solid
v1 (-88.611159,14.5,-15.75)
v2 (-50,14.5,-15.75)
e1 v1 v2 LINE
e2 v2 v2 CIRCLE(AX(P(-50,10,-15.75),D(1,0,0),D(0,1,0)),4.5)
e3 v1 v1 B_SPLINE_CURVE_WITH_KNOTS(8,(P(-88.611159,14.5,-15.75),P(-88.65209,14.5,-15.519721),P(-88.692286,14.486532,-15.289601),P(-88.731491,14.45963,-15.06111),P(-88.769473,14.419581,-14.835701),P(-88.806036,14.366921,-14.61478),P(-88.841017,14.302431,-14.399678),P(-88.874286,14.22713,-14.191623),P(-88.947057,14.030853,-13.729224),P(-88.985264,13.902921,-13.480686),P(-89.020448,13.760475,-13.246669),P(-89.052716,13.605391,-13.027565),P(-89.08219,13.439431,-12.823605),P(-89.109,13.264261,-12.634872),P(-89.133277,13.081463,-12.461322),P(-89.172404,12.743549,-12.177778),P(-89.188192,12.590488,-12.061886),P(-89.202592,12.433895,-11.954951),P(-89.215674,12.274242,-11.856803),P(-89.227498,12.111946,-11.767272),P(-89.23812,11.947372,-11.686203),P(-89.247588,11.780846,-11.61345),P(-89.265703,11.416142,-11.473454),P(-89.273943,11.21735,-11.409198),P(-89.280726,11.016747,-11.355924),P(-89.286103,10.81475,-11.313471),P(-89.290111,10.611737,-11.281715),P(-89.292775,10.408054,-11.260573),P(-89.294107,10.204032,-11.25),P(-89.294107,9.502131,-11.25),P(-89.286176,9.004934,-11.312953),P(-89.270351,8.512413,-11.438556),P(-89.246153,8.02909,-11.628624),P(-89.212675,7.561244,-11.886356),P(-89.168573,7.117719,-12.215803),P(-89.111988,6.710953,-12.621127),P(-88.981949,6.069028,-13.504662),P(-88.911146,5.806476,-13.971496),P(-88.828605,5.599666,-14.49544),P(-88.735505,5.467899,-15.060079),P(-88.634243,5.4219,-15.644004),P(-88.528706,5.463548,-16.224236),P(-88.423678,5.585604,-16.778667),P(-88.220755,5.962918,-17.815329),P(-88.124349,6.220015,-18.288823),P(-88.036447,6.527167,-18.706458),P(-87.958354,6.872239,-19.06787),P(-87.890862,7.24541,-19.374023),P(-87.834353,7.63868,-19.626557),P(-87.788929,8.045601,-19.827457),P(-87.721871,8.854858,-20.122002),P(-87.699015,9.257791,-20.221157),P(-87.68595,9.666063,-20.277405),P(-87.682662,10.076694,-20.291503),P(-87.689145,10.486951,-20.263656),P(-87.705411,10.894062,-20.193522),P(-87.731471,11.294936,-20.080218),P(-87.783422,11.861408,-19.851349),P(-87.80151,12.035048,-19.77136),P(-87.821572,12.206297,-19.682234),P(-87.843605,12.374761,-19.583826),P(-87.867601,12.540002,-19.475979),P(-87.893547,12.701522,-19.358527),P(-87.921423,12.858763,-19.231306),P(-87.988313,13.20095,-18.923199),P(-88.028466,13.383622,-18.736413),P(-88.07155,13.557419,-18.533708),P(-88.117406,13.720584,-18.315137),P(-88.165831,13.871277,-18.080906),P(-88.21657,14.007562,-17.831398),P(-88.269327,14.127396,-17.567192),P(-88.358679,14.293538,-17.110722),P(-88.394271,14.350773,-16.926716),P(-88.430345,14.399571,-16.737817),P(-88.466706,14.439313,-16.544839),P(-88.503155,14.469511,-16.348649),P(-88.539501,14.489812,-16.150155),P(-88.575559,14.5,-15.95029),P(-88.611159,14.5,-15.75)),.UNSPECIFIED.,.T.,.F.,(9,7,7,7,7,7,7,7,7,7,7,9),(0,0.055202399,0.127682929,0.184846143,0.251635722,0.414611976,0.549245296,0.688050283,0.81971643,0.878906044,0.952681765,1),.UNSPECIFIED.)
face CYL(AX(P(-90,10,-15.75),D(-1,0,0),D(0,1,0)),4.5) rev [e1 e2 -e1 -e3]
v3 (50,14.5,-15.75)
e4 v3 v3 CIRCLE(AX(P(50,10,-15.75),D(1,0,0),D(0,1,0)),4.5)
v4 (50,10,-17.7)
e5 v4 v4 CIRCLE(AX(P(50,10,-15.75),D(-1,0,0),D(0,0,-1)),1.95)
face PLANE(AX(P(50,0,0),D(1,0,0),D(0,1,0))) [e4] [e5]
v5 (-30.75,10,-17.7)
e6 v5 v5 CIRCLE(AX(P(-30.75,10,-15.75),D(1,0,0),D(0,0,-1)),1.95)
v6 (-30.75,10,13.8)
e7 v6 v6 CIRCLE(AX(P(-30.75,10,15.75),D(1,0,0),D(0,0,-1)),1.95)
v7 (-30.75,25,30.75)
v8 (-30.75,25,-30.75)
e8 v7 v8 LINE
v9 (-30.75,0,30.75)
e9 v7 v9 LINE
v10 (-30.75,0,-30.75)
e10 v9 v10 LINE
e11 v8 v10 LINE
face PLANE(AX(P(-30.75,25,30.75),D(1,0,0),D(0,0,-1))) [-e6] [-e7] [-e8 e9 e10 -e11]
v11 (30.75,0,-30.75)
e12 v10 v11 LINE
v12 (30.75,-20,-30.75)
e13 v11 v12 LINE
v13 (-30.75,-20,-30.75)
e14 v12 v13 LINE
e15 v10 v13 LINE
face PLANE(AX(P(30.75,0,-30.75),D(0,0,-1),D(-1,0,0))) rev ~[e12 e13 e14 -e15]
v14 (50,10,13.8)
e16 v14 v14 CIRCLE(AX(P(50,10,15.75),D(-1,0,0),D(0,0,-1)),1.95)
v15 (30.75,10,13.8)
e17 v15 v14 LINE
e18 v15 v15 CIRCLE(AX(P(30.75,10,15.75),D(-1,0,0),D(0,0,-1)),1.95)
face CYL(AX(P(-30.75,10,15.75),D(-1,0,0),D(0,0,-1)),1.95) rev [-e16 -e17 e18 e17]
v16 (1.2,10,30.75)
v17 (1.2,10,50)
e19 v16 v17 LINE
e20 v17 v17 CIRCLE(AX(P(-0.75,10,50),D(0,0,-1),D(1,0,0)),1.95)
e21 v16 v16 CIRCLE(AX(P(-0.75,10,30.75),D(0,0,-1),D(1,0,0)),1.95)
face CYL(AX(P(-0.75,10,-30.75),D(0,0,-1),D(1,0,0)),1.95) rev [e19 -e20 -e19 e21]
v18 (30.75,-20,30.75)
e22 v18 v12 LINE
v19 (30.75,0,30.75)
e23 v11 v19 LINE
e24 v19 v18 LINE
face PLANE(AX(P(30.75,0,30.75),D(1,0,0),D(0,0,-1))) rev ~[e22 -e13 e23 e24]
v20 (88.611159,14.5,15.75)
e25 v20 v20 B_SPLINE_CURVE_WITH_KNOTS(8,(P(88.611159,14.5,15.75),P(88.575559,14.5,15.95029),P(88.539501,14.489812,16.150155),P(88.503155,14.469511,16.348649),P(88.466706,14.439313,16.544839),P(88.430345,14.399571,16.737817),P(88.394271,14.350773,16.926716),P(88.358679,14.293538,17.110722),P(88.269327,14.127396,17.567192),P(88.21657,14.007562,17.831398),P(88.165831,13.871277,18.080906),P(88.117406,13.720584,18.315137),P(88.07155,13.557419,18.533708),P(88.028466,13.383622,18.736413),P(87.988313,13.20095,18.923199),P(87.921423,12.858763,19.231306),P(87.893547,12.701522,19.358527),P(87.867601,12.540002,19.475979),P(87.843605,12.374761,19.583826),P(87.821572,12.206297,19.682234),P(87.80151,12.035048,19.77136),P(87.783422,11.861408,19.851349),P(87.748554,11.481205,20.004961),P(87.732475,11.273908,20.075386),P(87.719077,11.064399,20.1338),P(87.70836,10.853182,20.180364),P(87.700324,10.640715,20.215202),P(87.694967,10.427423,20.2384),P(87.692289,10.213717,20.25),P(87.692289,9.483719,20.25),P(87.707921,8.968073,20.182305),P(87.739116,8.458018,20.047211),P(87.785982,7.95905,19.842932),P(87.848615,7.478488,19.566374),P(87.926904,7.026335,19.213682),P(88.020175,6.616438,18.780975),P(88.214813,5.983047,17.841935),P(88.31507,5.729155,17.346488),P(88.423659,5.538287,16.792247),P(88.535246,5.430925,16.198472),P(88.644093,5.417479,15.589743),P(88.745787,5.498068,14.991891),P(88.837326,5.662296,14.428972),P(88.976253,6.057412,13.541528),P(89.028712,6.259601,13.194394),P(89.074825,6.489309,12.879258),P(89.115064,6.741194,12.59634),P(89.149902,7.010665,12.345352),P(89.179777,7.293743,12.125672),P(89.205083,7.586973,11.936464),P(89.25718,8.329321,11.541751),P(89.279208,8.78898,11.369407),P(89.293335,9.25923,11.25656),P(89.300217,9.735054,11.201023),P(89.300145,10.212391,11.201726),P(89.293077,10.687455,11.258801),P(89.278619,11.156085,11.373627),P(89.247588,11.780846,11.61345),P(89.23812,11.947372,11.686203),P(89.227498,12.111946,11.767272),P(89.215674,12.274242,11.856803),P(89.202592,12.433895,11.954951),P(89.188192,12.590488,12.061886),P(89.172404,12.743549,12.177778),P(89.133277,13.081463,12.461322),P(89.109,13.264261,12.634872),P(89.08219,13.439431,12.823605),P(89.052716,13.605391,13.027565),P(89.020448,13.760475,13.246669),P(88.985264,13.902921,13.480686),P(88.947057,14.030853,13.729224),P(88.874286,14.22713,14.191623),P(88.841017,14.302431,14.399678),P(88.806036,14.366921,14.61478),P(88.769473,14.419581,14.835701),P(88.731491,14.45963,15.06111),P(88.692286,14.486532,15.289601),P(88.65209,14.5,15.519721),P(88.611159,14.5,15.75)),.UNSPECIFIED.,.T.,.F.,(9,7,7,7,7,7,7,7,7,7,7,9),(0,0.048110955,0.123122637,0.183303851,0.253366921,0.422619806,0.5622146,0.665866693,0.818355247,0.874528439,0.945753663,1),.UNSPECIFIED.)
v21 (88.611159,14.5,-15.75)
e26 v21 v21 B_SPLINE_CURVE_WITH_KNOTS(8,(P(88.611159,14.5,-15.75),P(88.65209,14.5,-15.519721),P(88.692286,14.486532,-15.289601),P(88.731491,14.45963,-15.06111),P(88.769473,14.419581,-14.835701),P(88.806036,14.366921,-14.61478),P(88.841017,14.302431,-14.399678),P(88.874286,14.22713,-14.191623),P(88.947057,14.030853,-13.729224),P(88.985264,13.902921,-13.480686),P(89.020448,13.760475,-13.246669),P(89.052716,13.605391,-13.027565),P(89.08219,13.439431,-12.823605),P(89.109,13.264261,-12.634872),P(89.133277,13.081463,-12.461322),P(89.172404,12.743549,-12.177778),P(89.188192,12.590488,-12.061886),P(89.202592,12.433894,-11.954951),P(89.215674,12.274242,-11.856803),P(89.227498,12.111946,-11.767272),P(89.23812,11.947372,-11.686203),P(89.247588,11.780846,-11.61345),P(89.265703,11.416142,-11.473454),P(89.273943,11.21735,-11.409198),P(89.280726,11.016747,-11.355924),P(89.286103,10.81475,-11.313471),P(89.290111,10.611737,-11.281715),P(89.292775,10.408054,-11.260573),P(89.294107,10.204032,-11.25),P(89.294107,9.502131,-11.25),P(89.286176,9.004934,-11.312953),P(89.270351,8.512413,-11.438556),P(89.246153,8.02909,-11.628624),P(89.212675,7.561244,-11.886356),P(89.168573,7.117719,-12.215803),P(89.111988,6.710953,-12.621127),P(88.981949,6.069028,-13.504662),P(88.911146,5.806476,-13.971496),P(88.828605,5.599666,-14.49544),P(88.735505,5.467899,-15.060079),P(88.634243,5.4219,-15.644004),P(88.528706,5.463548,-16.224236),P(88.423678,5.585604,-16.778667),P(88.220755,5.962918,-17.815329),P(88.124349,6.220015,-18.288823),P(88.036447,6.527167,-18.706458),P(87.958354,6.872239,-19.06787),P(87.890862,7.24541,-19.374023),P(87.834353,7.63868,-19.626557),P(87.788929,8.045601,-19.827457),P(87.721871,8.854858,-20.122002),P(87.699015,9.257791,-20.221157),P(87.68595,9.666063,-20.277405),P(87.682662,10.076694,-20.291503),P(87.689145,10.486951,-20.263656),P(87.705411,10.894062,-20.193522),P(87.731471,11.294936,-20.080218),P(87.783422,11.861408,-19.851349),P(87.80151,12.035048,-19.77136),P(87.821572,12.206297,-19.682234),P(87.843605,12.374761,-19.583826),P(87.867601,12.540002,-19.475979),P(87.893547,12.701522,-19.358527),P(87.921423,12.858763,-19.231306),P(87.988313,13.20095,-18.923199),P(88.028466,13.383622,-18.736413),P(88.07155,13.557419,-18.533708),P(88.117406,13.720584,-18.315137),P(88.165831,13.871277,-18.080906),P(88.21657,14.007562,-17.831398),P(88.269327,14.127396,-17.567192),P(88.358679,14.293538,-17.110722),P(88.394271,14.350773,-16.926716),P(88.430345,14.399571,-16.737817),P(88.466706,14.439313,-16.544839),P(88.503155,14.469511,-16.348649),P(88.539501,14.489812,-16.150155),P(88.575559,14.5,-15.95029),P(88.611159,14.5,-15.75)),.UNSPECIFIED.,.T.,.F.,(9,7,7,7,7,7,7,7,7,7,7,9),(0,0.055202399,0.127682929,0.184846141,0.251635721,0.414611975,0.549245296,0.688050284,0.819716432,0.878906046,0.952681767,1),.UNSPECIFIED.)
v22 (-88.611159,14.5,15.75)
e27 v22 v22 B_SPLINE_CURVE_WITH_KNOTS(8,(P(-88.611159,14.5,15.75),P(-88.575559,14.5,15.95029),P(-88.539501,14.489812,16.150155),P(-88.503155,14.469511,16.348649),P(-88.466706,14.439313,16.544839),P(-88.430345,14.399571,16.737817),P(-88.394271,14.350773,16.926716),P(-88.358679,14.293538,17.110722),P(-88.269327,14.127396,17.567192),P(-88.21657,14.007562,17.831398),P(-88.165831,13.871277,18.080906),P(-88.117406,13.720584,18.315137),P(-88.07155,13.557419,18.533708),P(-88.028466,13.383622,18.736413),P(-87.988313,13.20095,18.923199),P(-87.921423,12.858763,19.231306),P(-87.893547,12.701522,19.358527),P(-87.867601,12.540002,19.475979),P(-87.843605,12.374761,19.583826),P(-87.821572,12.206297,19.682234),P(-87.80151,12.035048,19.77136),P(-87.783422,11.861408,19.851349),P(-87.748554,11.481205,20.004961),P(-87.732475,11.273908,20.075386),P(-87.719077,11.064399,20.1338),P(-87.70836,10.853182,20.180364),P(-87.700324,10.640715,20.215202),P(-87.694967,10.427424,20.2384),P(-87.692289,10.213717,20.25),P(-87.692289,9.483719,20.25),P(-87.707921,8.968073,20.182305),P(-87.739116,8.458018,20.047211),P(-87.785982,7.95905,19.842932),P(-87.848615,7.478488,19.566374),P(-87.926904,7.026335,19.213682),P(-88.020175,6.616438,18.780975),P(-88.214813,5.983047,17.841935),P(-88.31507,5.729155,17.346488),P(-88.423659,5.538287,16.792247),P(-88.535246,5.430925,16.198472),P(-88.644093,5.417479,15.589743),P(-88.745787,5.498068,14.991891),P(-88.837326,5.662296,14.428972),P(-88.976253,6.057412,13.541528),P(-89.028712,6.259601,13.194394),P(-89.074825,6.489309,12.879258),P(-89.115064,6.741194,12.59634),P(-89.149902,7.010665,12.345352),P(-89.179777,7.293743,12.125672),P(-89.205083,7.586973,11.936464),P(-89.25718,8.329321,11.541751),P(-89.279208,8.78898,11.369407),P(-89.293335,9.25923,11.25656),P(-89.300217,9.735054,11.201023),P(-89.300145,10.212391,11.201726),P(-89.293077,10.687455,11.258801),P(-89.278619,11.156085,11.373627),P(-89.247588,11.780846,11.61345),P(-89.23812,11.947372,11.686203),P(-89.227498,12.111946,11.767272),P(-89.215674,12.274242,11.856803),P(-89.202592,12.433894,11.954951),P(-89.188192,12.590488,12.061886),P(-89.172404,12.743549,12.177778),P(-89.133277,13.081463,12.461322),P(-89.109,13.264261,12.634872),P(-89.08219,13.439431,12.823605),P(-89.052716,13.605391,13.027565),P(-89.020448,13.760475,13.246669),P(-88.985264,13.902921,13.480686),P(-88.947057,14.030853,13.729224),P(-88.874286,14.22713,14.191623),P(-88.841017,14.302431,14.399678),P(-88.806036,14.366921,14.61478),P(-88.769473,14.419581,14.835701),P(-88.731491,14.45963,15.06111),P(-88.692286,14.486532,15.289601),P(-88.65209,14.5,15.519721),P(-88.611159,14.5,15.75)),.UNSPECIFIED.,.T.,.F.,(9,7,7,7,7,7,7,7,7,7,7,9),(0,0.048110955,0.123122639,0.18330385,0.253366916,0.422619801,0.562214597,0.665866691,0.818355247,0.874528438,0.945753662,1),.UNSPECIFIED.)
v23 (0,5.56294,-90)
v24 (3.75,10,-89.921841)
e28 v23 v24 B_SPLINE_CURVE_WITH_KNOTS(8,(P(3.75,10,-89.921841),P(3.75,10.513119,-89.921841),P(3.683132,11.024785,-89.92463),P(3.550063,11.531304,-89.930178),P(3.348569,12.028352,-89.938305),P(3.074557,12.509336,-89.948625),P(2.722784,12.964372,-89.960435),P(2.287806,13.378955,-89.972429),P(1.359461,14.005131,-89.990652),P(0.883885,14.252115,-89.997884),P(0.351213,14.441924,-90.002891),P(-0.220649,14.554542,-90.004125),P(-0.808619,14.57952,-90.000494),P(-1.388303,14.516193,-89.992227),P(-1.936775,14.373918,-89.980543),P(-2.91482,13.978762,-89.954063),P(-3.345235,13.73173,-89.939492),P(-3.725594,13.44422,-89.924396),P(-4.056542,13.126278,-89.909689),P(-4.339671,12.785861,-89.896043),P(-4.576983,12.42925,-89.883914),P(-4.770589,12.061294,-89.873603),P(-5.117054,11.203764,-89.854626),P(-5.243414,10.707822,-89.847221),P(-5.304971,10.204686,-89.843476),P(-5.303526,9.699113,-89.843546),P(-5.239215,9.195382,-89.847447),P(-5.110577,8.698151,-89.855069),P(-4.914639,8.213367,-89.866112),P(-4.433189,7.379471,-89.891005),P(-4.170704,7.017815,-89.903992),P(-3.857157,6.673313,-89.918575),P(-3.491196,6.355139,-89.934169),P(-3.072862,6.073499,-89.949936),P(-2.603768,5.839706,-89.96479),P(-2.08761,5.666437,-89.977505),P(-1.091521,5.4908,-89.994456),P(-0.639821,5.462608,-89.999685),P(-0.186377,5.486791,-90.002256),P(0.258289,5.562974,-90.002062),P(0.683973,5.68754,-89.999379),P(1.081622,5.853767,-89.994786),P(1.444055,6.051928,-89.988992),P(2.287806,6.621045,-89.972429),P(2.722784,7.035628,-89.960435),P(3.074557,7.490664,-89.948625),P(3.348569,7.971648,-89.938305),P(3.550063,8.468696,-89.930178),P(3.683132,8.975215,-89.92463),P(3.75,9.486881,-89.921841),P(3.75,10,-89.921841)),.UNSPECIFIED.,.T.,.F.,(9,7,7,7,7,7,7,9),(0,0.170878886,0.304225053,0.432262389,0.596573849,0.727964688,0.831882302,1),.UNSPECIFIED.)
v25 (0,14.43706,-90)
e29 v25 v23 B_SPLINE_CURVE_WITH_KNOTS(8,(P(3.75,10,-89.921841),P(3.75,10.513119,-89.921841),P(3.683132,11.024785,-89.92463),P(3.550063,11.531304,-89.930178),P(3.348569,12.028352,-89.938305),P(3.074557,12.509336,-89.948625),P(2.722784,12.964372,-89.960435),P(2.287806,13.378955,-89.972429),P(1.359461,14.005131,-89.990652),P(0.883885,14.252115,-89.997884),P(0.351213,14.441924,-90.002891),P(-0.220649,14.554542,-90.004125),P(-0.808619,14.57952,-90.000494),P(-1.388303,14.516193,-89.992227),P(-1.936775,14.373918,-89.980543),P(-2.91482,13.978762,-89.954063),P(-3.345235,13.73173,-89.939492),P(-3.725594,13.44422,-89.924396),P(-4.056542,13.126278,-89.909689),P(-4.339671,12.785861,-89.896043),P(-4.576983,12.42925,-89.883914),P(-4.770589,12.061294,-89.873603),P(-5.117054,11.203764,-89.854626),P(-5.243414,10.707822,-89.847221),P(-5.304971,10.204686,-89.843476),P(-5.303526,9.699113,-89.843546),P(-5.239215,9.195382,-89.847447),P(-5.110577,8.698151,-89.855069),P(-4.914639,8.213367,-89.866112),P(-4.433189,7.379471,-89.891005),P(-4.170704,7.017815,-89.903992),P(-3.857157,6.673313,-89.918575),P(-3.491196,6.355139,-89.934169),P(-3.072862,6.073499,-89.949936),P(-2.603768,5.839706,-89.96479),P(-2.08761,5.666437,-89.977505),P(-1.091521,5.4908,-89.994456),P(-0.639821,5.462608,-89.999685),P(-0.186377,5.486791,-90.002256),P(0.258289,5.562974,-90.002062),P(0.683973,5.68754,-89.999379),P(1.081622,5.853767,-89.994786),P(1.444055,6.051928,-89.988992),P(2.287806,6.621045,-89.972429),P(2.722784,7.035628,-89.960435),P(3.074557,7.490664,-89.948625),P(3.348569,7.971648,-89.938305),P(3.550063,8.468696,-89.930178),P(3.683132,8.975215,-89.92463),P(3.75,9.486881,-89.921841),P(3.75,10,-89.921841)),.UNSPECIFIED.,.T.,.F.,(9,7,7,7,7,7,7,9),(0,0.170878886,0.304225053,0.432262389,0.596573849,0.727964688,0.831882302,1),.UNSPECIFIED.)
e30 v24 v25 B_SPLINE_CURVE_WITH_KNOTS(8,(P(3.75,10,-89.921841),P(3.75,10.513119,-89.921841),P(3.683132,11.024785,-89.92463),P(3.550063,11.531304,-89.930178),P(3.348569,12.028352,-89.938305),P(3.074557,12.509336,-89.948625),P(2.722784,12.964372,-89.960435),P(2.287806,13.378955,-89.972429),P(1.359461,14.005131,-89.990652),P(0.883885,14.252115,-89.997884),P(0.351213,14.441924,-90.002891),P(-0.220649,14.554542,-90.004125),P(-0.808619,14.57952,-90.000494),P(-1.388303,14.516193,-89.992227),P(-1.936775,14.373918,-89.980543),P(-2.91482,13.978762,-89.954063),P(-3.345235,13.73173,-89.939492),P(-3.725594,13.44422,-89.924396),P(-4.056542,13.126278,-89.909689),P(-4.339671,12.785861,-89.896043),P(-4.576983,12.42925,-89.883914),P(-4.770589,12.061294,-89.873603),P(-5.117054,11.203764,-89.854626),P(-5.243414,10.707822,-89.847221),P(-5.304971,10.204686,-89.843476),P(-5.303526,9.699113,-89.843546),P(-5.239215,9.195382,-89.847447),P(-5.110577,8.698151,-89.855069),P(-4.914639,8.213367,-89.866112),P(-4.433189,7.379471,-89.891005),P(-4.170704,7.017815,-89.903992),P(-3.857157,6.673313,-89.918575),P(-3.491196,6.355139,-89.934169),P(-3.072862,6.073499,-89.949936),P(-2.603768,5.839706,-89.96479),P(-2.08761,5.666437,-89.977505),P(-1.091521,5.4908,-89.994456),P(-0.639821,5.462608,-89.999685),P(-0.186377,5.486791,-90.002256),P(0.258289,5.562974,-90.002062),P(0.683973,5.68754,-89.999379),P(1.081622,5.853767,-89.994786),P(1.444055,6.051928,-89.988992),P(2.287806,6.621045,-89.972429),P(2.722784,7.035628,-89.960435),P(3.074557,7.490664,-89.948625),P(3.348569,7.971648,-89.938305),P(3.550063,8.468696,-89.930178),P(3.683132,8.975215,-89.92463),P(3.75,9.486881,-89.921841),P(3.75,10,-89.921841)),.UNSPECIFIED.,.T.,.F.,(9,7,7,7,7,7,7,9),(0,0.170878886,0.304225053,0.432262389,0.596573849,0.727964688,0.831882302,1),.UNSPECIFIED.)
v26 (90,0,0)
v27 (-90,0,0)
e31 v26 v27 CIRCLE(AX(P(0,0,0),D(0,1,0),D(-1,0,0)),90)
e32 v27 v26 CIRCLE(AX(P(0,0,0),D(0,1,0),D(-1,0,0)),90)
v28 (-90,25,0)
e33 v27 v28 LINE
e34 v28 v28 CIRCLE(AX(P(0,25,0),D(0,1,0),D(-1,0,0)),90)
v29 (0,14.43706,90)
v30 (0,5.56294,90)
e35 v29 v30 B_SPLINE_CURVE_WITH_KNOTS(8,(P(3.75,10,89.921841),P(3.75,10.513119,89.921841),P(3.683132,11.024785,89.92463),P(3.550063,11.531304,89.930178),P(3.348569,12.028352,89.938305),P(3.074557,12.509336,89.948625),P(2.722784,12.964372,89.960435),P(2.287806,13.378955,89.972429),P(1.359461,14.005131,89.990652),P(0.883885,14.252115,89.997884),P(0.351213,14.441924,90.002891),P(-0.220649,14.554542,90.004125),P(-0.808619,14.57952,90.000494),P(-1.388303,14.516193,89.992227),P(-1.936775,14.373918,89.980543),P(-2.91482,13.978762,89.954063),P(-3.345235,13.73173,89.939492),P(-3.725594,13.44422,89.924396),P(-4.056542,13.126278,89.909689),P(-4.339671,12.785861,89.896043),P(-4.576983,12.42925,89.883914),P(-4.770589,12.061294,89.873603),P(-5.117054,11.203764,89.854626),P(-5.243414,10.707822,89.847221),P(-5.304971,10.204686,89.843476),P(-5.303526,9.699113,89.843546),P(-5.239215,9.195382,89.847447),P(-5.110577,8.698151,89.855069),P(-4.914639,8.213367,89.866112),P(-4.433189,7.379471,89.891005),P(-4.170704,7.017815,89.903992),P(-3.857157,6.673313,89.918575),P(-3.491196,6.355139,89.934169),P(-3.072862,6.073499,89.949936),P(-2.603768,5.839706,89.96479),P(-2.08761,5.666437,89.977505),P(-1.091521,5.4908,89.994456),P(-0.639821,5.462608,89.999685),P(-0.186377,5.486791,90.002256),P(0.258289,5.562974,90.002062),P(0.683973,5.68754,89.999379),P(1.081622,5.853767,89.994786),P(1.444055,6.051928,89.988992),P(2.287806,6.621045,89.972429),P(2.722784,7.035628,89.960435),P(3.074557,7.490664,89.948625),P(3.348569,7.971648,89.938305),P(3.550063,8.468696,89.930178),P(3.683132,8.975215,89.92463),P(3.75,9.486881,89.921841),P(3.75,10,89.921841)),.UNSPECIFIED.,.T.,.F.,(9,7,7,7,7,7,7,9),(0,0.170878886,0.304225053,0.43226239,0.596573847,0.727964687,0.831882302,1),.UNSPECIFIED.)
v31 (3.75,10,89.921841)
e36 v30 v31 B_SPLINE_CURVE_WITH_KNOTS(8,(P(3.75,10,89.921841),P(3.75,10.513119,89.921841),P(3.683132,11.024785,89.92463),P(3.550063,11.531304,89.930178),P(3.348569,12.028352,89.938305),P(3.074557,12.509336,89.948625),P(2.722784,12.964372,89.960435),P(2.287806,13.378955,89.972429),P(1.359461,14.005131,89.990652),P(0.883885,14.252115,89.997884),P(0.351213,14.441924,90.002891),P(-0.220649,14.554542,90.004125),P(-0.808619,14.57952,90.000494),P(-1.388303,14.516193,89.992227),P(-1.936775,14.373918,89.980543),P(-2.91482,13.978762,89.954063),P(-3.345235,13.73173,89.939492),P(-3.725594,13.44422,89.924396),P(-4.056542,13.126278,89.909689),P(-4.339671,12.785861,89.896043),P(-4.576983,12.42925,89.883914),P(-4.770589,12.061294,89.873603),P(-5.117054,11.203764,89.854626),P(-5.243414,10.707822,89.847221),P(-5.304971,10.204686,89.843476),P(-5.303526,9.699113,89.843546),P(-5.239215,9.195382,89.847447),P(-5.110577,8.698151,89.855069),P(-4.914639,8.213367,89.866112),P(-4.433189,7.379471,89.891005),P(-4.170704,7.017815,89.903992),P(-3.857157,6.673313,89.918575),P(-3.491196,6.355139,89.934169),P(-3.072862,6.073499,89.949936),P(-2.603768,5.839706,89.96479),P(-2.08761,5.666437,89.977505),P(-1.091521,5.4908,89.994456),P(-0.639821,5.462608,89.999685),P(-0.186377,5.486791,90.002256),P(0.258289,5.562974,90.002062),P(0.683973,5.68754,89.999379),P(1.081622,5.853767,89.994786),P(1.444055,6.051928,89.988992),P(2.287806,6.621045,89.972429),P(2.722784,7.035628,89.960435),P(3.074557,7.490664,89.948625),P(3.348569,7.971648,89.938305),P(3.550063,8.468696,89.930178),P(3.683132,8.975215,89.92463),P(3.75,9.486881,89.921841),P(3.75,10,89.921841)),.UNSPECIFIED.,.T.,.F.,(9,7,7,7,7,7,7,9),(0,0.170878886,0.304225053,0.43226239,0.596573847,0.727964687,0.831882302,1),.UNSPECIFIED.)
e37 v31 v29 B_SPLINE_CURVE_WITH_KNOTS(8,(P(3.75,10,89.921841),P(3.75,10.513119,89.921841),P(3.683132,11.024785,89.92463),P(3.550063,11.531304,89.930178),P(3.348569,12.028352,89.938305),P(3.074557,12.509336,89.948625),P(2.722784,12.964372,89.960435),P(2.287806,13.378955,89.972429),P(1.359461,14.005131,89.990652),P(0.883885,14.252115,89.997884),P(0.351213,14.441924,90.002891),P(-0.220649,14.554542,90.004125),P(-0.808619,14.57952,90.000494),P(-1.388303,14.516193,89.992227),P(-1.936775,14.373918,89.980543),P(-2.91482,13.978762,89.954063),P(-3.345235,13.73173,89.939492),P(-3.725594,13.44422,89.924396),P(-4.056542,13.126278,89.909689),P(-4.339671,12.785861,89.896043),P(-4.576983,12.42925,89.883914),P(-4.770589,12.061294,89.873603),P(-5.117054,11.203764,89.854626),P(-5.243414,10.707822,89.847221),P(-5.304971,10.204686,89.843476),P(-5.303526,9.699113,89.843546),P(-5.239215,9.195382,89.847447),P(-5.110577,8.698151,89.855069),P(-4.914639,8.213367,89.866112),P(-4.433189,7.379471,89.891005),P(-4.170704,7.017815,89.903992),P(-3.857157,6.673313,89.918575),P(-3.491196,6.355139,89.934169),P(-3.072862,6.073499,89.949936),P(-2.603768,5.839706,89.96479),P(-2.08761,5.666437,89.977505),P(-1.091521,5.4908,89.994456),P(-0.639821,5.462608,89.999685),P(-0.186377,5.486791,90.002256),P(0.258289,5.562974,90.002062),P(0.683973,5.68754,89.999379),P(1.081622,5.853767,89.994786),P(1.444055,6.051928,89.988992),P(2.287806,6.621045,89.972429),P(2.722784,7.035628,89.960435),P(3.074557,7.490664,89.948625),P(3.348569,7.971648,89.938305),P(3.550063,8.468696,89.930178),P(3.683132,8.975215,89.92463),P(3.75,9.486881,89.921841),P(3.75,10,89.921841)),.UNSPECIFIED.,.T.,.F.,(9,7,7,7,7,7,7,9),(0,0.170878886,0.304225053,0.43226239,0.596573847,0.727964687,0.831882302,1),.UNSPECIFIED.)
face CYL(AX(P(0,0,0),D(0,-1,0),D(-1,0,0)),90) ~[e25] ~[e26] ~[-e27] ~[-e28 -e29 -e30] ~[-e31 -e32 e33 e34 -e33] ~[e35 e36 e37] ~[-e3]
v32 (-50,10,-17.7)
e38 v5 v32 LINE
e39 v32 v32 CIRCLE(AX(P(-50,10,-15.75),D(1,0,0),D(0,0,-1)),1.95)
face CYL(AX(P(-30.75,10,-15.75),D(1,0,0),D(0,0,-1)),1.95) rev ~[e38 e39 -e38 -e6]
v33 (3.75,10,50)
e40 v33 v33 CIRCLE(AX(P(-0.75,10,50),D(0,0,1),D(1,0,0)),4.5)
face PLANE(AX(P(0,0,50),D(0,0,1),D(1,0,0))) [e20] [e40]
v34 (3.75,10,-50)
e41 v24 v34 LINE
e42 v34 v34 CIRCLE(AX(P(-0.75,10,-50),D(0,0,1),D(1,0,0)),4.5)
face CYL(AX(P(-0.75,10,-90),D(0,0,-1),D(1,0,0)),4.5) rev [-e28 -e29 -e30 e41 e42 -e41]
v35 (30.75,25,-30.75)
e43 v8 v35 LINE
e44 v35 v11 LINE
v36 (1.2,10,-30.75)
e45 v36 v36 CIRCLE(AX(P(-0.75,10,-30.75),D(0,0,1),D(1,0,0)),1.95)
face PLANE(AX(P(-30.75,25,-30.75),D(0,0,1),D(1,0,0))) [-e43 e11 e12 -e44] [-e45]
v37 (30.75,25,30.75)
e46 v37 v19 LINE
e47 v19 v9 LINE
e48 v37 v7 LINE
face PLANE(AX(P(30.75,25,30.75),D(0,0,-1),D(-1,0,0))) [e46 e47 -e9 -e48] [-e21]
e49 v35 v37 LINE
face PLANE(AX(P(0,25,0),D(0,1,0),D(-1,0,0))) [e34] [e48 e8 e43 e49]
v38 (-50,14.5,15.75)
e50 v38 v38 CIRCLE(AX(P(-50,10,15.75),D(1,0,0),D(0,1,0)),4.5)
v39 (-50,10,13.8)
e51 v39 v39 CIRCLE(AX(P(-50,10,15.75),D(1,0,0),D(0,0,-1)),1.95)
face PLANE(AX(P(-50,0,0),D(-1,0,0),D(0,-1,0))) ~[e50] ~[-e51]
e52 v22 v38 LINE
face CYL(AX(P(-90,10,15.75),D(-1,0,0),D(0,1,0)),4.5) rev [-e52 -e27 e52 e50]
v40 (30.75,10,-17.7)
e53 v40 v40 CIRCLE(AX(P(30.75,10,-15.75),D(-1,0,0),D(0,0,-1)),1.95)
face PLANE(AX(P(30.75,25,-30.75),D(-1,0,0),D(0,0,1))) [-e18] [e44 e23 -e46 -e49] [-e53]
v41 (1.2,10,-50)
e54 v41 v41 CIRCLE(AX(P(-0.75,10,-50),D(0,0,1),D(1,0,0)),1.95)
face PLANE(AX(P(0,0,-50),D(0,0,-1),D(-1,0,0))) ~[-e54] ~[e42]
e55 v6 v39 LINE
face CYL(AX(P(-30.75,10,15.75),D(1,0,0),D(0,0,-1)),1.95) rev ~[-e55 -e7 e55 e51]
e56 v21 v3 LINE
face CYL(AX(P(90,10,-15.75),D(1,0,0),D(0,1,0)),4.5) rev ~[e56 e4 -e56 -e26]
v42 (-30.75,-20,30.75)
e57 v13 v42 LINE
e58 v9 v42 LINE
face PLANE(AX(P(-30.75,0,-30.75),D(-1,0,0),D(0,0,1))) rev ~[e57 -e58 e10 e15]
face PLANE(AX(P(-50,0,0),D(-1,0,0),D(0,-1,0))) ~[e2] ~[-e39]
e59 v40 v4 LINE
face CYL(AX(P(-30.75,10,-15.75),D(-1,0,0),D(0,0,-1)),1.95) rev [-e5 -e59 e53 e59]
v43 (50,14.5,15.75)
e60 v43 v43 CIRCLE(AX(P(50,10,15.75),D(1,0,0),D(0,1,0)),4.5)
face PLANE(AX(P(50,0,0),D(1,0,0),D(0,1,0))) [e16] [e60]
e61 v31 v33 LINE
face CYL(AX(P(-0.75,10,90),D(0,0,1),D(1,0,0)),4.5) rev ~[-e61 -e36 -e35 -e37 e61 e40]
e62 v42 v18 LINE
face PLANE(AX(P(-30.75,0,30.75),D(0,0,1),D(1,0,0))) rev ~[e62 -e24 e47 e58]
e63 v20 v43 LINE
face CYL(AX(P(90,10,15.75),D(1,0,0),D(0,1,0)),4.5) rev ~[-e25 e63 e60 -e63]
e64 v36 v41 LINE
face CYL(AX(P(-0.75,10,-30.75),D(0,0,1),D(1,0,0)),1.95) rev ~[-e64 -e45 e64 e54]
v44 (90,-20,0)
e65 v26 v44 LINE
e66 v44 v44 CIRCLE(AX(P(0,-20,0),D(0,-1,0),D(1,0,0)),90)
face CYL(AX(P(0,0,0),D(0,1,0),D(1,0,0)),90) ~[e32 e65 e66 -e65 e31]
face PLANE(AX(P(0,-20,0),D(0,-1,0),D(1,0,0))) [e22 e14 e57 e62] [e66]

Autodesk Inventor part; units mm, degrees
ref_plane "XZ Plane" through (0, 0, 0) normal (0, 1, 0) x (-1, 0, 0)
sketch "Sketch1" plane through (0, 0, 0) normal (0, 1, 0) x (-1, 0, 0)
  circle A0 centre (0, 0) radius 90
  dimension "d0" = 180
extrude "Extrusion1" add sketch "Sketch1" along normal blind 25
sketch "Sketch2" plane through (0, 25, 0) normal (0, 1, 0) x (1, 0, 0)
  line L0 (-30.75, 30.75) -> (30.75, 30.75)
  line L1 (30.75, 30.75) -> (30.75, -30.75)
  line L2 (30.75, -30.75) -> (-30.75, -30.75)
  line L3 (-30.75, -30.75) -> (-30.75, 30.75)
  point P0 (0, 0)
  dimension "d3" = 61.5
  dimension "d4" = 61.5
  dimension "d5" = 30.75
  dimension "d6" = 30.75
extrude "Extrusion2" cut sketch "Sketch2" against normal blind 25
sketch "Sketch3" plane through (-30.75, 25, 30.75) normal (1, 0, 0) x (0, 0, -1)
  circle A0 centre (46.5, -15) radius 1.95
  circle A1 centre (15, -15) radius 1.95
  line L0 (61.5, -25) -> (0, -25) projected
  line L1 (61.5, 0) -> (61.5, -25) projected
  line L2 (0, 0) -> (0, -25) projected
  point P0 (30.75, -25)
  dimension "d9" = 3.9
  dimension "d10" = 3.9
  dimension "d11" = 10
  dimension "d12" = 10
  dimension "d13" = 15
  dimension "d14" = 15
extrude "Extrusion3" cut sketch "Sketch3" along normal mid plane 300
sketch "Sketch4" plane through (-30.75, 25, -30.75) normal (0, 0, 1) x (1, 0, 0)
  circle A0 centre (30, -15) radius 1.95
  line L0 (61.5, -25) -> (0, -25) projected
  line L1 (0, 0) -> (0, -25) projected
  point P0 (30.75, -25)
  dimension "d17" = 10
  dimension "d18" = 30
  dimension "d19" = 3.9
extrude "Extrusion4" cut sketch "Sketch4" along normal mid plane 300
ref_plane "Work Plane1" through (90, 0, 0) normal (1, 0, 0) x (0, 1, 0)
sketch "Sketch5" plane through (90, 0, 0) normal (1, 0, 0) x (0, 1, 0)
  circle A0 centre (10, -15.75) radius 1.95 projected
  circle A1 centre (10, -15.75) radius 4.5
  circle A2 centre (10, 15.75) radius 1.95 projected
  circle A3 centre (10, 15.75) radius 4.5
  point P0 (0, 0)
  dimension "d23" = 9
  dimension "d24" = 9
extrude "Extrusion5" cut sketch "Sketch5" against normal blind 40 contours A0 | A1 | A2 | A3
mirror "Mirror1" about plane through (0, 0, 0) normal (1, 0, 0) of "Extrusion5"
ref_plane "Work Plane2" through (0, 0, 90) normal (0, 0, 1) x (1, 0, 0)
sketch "Sketch6" plane through (0, 0, 90) normal (0, 0, 1) x (1, 0, 0)
  circle A0 centre (-0.75, 10) radius 1.95 projected
  circle A1 centre (-0.75, 10) radius 4.5
  point P0 (0, 0)
  dimension "d28" = 9
extrude "Extrusion6" cut sketch "Sketch6" against normal blind 40 contours A0 | A1
mirror "Mirror2" about plane through (0, 0, 0) normal (0, 0, 1) of "Extrusion6"
sketch "Sketch7" plane through (0, 0, 0) normal (0, -1, 0) x (1, 0, 0)
  circle A0 centre (0, 0) radius 90
  line L0 (-30.75, 30.75) -> (30.75, 30.75) projected
  line L1 (-30.75, 30.75) -> (30.75, 30.75)
  line L2 (30.75, 30.75) -> (30.75, -30.75)
  line L3 (30.75, -30.75) -> (-30.75, -30.75)
  line L4 (-30.75, -30.75) -> (-30.75, 30.75)
extrude "Extrusion7" add sketch "Sketch7" along normal blind 20
sketch "Sketch8" plane through (0, 25, 0) normal (0, 1, 0) x (1, 0, 0)
  line L0 (37.3786, -36.9077) -> (37.3786, 35.2103) construction
  line L1 (37.3786, 35.2103) -> (75.2405, 35.2103) construction
  line L2 (75.2405, 35.2103) -> (75.2405, -36.9077) construction
  line L3 (75.2405, -36.9077) -> (37.3786, -36.9077) construction
  point P0 (0, 0)
properties part number "Base_V2a"
